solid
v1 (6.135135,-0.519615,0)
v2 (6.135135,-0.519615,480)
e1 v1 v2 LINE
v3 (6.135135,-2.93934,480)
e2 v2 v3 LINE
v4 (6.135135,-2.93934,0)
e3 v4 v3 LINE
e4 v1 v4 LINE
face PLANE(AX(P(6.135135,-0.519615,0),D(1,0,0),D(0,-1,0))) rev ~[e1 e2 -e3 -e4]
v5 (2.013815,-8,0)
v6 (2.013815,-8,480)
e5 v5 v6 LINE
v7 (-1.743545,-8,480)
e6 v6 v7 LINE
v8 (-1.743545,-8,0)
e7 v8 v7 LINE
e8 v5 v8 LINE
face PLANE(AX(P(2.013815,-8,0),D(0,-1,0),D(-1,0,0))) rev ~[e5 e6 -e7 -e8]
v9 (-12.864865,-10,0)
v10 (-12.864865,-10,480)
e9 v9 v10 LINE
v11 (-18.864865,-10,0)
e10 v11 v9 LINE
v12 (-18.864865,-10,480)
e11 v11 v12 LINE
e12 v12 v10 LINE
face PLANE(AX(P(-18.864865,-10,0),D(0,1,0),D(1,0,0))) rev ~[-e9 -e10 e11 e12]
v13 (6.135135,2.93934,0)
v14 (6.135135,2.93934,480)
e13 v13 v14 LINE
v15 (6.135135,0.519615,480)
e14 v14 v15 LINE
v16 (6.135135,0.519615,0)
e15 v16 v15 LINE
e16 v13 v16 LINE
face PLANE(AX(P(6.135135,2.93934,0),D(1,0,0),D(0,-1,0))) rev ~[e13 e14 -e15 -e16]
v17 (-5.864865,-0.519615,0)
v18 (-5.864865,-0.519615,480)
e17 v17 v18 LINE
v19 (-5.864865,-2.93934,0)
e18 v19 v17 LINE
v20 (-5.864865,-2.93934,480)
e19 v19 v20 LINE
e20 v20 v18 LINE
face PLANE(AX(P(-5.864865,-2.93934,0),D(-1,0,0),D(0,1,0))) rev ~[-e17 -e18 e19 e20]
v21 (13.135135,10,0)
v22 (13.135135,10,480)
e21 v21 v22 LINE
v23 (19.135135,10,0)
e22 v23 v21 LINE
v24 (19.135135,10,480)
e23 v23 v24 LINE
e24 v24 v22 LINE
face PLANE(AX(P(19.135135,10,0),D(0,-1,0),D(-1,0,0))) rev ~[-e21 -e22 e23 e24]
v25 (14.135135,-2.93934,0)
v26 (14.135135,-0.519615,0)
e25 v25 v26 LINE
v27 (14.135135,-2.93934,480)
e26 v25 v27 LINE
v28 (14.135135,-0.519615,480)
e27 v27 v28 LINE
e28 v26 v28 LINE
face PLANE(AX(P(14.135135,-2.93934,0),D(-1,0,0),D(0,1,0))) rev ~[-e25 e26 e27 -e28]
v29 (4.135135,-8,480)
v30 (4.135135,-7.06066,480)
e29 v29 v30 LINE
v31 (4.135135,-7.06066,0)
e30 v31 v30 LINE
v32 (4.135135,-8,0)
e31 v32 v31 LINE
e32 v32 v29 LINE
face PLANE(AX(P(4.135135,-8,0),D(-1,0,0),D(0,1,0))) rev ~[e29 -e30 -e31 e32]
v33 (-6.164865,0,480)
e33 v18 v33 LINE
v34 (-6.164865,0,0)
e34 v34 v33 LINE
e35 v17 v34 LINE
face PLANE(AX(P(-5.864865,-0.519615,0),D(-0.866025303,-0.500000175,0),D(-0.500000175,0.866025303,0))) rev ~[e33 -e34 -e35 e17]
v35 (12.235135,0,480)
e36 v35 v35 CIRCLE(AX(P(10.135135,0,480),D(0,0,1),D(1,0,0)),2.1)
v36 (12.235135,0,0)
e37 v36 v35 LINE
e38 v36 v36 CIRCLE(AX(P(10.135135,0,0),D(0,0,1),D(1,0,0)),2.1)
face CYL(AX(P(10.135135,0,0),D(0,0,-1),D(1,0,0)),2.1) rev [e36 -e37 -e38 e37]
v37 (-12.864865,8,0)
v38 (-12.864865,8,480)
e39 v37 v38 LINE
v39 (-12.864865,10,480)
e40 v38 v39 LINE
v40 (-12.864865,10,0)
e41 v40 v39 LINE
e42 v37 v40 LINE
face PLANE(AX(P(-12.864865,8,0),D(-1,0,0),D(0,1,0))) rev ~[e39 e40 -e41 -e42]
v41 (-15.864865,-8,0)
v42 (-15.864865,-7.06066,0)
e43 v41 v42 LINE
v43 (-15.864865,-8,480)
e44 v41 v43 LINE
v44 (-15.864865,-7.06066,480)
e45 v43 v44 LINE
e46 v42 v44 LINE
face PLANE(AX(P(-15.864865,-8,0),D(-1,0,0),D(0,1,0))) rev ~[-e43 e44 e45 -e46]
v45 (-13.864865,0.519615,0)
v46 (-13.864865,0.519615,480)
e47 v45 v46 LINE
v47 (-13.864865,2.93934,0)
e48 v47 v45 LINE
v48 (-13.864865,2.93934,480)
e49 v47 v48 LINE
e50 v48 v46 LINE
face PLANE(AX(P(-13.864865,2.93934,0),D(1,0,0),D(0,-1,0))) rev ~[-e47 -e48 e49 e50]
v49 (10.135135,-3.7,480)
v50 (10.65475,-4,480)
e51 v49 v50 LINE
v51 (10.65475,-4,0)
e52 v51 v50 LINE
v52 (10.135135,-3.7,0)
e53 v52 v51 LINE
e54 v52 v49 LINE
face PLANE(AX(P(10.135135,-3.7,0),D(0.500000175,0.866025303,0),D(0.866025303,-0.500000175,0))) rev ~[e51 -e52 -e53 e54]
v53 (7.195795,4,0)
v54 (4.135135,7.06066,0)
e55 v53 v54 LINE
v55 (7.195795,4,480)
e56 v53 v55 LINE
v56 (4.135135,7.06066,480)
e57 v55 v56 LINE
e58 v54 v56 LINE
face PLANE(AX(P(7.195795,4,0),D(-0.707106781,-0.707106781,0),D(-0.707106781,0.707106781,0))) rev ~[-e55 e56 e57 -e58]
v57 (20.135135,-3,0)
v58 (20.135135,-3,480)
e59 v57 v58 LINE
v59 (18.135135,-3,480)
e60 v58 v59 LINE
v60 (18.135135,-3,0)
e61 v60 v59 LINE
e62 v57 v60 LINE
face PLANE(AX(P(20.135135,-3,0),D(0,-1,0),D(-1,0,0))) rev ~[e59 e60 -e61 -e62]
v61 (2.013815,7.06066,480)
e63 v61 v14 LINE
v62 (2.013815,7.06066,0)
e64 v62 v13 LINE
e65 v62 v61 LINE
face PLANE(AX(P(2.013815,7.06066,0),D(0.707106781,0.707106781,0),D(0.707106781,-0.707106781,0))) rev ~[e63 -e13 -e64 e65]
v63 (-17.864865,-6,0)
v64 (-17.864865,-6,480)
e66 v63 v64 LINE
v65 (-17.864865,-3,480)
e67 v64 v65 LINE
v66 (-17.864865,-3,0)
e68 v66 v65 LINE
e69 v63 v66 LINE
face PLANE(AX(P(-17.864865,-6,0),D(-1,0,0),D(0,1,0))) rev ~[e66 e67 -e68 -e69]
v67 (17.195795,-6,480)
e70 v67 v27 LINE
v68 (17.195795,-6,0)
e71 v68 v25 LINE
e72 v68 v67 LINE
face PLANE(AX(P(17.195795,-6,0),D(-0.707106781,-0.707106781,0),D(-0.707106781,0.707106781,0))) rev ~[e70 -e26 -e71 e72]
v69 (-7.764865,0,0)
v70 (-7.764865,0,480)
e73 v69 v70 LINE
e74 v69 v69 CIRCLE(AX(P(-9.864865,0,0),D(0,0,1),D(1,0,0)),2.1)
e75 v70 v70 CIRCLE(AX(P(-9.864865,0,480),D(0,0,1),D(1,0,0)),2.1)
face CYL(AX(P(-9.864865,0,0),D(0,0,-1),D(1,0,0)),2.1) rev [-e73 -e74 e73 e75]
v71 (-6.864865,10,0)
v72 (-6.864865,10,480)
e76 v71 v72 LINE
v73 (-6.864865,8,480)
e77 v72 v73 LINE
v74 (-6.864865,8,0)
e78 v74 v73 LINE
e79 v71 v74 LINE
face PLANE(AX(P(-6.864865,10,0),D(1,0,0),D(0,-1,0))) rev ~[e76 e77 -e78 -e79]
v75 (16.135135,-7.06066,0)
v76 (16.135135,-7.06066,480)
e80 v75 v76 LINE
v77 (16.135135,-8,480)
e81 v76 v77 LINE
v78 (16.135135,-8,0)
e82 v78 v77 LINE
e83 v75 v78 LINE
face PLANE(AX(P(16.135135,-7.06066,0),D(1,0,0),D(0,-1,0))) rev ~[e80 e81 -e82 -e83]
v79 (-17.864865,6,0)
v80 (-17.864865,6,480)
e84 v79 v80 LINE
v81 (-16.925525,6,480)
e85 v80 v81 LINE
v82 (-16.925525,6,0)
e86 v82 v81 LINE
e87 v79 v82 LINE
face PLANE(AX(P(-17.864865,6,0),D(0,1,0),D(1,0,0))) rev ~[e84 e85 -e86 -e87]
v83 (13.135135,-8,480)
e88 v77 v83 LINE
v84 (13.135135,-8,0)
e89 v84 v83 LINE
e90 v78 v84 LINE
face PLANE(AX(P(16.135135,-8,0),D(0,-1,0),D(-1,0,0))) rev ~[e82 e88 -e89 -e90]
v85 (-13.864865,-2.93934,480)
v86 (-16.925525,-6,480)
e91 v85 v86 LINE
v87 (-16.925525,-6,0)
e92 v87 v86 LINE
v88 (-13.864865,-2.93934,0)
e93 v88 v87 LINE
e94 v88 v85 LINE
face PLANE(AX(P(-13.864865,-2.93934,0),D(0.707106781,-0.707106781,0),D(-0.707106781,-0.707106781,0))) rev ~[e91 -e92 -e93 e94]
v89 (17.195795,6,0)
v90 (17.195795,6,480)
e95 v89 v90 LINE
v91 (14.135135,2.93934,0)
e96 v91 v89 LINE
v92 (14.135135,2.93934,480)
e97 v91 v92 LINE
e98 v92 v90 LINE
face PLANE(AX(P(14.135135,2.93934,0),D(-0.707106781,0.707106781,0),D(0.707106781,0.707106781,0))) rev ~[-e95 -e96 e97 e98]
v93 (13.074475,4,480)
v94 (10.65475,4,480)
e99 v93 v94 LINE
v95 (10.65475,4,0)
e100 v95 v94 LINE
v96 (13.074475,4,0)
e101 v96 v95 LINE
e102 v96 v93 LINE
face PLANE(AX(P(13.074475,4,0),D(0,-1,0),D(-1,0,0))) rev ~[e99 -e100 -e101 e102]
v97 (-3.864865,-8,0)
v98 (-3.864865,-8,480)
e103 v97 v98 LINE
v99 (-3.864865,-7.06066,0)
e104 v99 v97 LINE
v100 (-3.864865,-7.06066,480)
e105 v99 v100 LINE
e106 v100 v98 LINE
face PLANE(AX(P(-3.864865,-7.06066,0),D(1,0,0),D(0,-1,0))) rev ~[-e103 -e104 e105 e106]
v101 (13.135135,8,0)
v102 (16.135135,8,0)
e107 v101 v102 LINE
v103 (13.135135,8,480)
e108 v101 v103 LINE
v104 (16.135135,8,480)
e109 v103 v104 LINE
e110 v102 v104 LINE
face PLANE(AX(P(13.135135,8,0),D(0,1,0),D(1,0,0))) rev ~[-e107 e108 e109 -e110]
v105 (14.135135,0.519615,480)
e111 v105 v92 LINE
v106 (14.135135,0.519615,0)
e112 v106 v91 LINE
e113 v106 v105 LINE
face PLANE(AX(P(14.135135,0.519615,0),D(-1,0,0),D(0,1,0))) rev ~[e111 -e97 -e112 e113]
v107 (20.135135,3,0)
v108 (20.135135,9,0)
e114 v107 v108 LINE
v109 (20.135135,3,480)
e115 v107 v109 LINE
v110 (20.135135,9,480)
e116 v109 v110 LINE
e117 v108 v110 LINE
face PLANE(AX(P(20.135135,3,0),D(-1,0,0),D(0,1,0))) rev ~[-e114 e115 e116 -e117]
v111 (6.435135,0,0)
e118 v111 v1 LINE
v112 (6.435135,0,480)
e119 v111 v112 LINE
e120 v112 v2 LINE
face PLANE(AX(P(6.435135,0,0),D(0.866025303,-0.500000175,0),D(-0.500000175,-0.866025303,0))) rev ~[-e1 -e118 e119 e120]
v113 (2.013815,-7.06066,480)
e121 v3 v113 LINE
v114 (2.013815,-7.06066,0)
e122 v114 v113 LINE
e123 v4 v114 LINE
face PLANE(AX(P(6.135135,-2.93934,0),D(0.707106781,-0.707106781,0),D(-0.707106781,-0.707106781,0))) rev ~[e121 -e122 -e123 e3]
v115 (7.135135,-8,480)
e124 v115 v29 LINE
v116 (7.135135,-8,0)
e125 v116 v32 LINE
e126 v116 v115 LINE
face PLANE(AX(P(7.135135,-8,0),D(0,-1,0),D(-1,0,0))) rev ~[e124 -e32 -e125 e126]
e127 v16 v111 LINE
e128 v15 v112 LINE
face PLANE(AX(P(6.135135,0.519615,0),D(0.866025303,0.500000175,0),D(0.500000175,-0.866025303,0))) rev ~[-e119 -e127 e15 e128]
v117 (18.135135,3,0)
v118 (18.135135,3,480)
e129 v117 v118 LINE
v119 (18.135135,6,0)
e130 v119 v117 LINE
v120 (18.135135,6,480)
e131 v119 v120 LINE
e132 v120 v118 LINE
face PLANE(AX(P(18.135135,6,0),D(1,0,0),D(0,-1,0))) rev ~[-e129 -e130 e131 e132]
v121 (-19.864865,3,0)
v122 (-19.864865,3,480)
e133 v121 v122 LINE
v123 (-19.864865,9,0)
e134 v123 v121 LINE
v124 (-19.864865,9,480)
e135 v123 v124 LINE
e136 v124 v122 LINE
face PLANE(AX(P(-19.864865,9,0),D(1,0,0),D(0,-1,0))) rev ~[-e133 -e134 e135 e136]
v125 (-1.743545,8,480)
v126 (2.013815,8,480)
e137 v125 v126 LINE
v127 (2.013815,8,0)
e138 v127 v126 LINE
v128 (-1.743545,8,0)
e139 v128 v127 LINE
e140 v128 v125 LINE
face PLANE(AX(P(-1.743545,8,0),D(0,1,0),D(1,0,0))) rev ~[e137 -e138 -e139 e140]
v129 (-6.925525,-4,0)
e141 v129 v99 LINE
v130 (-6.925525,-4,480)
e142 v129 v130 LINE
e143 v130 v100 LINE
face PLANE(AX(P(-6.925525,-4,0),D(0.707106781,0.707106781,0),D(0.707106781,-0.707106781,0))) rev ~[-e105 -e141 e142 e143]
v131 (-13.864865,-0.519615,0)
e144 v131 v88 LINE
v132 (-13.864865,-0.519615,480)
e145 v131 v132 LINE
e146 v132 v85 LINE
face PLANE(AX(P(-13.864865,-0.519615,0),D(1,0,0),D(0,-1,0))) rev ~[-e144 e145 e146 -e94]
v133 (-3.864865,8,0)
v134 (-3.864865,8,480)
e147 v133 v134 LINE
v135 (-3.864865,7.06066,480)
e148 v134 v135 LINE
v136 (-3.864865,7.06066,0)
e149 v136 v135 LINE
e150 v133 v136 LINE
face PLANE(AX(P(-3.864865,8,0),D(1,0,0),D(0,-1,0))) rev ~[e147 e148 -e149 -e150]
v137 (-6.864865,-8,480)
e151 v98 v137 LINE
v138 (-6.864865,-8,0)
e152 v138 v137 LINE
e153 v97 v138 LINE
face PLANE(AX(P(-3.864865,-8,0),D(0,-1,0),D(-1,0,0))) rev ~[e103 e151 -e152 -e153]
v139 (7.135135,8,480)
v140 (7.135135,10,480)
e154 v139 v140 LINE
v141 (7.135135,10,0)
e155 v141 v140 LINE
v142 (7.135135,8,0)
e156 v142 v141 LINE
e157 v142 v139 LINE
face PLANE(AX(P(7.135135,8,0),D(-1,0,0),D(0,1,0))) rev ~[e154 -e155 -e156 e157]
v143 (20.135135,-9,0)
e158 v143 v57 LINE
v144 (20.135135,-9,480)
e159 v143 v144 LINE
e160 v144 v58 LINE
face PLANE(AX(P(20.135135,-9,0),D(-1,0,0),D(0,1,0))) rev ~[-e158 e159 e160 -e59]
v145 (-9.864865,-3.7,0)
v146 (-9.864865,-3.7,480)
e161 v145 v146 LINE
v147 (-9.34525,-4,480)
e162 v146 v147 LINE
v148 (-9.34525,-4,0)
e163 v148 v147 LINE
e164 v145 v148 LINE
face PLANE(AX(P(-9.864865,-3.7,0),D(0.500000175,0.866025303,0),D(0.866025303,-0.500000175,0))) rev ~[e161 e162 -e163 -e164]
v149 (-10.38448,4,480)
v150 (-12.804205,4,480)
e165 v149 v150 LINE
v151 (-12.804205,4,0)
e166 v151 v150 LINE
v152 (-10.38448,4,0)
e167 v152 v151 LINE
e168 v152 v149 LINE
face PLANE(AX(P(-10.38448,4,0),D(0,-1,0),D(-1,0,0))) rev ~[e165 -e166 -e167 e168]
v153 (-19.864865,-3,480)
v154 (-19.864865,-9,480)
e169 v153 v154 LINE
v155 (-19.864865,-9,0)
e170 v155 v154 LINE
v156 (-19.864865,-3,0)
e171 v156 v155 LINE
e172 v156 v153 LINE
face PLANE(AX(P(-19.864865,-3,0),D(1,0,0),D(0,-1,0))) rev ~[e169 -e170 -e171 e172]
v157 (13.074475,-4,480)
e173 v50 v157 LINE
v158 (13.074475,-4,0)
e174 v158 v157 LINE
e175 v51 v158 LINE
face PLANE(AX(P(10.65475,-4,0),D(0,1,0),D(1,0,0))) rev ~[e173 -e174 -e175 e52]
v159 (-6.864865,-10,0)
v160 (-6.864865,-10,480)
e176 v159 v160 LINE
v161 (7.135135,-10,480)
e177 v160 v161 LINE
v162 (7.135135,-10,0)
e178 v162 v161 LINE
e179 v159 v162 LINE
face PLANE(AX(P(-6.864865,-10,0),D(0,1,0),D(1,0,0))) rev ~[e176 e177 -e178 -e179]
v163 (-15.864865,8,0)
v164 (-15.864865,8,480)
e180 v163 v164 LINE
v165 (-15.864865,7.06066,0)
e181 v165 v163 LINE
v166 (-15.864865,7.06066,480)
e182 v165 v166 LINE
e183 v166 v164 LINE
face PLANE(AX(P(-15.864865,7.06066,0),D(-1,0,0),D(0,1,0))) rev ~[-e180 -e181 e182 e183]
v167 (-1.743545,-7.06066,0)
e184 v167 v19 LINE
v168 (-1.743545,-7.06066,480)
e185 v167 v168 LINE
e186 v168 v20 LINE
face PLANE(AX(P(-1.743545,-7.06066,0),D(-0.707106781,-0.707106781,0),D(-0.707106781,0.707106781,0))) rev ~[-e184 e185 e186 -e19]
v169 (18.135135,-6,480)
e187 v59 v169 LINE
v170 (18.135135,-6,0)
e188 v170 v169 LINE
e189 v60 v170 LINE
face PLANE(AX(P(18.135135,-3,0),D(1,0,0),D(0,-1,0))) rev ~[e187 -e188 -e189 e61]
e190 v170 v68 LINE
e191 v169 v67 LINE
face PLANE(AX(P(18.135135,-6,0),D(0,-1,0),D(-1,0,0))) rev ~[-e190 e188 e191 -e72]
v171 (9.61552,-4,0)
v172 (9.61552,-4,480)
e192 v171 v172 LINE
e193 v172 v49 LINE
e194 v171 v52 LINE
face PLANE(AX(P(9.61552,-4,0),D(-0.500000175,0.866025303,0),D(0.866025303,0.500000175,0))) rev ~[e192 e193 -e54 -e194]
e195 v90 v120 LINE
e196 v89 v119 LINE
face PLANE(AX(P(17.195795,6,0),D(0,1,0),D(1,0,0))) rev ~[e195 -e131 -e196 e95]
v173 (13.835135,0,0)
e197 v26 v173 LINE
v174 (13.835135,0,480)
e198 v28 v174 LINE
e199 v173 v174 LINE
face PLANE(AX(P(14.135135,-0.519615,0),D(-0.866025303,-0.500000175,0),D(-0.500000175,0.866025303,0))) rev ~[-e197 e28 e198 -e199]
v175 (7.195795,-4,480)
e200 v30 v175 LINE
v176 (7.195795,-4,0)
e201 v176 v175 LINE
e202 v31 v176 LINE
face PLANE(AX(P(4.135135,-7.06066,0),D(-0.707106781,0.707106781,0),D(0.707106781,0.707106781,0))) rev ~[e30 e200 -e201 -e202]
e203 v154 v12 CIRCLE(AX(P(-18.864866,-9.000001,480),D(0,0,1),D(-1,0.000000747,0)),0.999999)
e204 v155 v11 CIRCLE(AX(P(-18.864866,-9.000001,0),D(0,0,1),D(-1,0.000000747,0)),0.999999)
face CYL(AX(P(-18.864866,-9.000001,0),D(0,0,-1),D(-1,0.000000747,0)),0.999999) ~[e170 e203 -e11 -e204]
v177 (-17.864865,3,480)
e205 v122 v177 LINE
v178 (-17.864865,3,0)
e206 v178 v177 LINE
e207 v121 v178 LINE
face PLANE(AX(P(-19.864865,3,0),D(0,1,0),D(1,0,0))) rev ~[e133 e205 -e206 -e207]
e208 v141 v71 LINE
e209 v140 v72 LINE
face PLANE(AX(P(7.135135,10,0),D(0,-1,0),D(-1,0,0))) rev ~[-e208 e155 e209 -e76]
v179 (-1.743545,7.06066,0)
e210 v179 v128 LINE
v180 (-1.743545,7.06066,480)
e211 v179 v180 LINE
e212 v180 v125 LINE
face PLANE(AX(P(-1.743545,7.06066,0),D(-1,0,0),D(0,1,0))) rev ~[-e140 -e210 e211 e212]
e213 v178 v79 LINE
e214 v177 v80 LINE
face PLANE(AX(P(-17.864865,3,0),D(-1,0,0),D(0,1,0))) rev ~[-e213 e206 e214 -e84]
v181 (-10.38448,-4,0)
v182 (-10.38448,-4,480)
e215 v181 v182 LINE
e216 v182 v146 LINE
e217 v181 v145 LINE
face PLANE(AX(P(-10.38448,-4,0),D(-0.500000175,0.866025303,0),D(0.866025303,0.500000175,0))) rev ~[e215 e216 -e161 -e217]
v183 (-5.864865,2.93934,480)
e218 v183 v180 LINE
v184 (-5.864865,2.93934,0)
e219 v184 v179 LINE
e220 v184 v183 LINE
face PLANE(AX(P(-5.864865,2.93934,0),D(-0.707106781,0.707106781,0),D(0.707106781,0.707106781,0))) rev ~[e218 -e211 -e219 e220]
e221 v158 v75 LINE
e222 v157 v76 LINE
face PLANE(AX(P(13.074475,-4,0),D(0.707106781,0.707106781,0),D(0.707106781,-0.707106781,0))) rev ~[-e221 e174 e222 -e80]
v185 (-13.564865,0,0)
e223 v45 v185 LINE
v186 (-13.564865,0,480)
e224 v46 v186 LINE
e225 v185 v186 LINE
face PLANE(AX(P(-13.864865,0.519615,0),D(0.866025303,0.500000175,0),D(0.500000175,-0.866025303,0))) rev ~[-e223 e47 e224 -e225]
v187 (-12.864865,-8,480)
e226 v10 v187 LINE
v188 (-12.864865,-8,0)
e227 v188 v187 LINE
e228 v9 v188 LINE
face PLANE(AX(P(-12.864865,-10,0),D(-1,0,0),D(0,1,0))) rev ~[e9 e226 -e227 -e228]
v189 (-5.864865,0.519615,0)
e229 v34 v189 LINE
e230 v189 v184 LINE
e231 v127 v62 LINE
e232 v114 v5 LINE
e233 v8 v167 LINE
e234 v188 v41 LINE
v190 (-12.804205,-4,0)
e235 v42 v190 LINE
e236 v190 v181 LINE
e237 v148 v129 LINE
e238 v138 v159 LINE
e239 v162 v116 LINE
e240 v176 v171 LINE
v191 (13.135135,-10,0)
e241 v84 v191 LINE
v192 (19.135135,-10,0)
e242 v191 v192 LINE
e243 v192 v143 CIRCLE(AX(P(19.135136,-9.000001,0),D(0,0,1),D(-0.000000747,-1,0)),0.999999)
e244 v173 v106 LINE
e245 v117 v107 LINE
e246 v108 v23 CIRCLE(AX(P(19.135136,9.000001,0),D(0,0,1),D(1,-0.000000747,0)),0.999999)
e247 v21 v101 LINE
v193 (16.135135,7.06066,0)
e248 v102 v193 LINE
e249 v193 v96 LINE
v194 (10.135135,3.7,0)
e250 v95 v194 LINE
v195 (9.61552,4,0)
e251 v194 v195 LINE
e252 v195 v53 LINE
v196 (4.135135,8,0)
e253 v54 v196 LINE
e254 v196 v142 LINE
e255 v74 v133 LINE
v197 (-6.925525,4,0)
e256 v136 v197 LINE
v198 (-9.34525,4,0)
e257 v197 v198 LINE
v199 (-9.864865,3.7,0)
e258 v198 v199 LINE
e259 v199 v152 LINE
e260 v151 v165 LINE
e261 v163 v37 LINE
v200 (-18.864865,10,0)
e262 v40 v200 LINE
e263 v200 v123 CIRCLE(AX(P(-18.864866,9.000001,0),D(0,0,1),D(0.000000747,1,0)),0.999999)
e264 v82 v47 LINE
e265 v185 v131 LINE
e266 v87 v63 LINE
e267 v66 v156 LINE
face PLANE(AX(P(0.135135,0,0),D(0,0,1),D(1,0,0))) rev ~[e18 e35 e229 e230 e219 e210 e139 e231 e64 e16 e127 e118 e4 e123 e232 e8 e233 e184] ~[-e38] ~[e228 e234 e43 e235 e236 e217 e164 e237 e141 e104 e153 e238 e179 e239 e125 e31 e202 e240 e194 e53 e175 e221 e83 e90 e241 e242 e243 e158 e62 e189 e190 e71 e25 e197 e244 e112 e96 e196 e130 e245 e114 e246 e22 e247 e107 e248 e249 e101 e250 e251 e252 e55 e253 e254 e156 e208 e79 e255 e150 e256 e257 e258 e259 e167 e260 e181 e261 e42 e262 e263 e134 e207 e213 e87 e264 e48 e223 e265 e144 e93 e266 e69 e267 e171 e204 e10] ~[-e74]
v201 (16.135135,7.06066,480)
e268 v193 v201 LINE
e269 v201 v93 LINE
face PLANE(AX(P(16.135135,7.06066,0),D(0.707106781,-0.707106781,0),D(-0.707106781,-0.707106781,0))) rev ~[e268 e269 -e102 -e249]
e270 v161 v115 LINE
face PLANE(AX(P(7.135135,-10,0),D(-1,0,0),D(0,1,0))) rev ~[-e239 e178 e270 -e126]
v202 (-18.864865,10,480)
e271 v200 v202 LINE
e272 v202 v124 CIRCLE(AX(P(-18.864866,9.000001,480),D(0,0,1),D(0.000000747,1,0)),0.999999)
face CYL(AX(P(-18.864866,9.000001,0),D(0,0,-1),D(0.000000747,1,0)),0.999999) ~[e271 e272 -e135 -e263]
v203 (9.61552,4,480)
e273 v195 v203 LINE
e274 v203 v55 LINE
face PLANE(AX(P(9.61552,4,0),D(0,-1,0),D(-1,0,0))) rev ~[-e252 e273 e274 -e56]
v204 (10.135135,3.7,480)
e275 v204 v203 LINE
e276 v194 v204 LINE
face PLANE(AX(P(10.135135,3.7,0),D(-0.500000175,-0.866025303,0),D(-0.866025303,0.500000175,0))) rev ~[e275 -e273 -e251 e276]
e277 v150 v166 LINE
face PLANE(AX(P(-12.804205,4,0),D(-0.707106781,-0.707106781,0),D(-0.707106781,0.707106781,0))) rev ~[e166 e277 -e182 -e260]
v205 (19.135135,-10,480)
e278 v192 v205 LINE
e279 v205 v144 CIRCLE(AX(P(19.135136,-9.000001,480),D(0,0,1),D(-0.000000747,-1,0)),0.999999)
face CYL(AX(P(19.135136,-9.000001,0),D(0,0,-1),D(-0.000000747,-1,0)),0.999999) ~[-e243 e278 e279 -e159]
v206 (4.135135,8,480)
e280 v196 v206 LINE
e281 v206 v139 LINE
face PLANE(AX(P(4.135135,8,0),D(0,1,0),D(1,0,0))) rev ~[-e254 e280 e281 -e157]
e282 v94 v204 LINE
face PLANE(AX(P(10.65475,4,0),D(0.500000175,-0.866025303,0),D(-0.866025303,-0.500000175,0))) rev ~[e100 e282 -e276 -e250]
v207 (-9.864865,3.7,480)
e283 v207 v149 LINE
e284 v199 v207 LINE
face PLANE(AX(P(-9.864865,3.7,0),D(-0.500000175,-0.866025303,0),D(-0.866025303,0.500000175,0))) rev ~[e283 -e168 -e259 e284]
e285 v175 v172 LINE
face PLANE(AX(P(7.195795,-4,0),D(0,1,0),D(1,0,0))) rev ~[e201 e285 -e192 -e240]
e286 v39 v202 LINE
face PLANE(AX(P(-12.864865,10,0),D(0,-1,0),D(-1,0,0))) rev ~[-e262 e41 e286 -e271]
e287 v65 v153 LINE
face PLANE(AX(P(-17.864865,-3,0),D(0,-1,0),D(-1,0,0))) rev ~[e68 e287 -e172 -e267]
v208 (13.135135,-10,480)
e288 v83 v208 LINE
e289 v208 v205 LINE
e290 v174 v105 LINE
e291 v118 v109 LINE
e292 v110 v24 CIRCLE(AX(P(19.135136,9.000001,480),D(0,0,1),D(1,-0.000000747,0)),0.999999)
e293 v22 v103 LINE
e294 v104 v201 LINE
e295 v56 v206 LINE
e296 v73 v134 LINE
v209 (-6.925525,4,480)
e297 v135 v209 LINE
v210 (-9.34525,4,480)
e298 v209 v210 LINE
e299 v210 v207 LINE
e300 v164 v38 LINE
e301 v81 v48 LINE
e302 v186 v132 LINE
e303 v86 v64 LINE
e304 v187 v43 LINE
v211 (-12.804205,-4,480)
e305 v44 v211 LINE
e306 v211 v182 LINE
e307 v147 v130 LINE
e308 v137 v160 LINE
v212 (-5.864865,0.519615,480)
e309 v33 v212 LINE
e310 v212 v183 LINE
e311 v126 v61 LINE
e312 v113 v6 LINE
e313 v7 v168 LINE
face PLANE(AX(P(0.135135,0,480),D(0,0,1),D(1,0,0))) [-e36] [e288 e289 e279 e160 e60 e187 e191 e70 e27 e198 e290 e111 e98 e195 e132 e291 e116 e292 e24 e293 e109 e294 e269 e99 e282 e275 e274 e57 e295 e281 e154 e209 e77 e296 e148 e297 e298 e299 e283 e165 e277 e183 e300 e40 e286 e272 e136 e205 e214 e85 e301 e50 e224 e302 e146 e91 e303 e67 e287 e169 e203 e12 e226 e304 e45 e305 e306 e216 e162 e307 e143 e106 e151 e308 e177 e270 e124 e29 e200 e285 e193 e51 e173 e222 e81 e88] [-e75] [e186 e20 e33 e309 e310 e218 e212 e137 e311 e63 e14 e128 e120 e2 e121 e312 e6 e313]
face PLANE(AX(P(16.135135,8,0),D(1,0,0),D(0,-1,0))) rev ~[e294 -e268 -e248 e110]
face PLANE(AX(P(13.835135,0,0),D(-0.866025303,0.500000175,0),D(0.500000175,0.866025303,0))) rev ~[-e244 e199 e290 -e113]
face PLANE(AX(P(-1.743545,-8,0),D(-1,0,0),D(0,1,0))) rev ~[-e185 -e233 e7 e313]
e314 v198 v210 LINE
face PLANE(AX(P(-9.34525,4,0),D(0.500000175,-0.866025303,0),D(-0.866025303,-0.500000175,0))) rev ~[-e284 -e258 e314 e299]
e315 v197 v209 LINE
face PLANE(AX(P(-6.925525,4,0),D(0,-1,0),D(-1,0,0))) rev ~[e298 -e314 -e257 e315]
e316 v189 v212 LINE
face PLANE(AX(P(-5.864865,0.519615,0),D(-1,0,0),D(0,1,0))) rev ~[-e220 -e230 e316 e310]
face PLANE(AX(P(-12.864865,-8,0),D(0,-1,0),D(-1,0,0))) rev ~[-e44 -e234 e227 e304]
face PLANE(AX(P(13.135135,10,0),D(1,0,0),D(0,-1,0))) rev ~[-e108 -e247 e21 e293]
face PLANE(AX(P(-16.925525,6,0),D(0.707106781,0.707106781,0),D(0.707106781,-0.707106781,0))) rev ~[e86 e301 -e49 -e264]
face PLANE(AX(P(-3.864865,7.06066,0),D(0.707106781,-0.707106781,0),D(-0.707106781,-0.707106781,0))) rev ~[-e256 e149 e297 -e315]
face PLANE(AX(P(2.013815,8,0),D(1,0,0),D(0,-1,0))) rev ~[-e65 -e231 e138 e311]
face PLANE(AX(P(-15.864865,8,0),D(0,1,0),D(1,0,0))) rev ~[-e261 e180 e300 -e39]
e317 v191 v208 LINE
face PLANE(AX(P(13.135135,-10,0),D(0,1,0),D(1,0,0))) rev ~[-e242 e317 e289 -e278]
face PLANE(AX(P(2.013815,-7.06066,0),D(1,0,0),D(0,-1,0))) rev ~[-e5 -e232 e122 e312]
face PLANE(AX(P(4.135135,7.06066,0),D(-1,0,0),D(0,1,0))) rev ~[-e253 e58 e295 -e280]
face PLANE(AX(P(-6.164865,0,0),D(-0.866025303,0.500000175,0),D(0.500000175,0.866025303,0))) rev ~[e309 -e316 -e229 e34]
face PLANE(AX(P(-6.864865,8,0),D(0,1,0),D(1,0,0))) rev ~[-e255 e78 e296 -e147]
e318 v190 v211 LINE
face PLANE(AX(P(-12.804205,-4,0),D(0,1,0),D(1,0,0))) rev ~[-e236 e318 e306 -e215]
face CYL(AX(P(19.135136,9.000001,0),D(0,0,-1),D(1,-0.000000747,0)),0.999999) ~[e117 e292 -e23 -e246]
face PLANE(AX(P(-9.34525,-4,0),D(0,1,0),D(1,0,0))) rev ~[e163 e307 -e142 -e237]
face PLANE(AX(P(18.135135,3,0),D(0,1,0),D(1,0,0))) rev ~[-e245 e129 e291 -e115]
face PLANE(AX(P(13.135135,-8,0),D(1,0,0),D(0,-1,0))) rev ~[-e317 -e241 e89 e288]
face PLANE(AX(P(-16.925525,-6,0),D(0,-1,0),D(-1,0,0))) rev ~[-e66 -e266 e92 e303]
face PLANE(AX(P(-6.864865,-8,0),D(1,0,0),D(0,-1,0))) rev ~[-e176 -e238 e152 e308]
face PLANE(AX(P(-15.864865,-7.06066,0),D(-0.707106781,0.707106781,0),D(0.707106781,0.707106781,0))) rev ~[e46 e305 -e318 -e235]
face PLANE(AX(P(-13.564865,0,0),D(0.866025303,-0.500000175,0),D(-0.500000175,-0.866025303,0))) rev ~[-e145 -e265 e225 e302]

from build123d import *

# Parameters (mm, degrees)
F0_R     = 2.1
F1_DEPTH = 480


with BuildPart() as f1:
    # F0 (on Top) → F1 (new body)
    with BuildSketch(Plane.XY):
        with BuildLine():
            Line((14.135135, -0.519615), (13.835135, 0))
            Line((13.835135, 0), (14.135135, 0.519615))
            Line((14.135135, 0.519615), (14.135135, 2.93934))
            Line((14.135135, 2.93934), (17.195795, 6))
            Line((17.195795, 6), (18.135135, 6))
            Line((18.135135, 6), (18.135135, 3))
            Line((18.135135, 3), (20.135135, 3))
            Line((20.135135, 3), (20.135135, 9))
            ThreePointArc((20.135135, 9), (19.842242, 9.707107), (19.135135, 10))
            Line((19.135135, 10), (13.135135, 10))
            Line((13.135135, 10), (13.135135, 8))
            Line((13.135135, 8), (16.135135, 8))
            Line((16.135135, 8), (16.135135, 7.06066))
            Line((16.135135, 7.06066), (13.074475, 4))
            Line((13.074475, 4), (10.65475, 4))
            Line((10.65475, 4), (10.135135, 3.7))
            Line((10.135135, 3.7), (9.61552, 4))
            Line((9.61552, 4), (7.195795, 4))
            Line((7.195795, 4), (4.135135, 7.06066))
            Line((4.135135, 7.06066), (4.135135, 8))
            Line((4.135135, 8), (7.135135, 8))
            Line((7.135135, 8), (7.135135, 10))
            Line((7.135135, 10), (-6.864865, 10))
            Line((-6.864865, 10), (-6.864865, 8))
            Line((-6.864865, 8), (-3.864865, 8))
            Line((-3.864865, 8), (-3.864865, 7.06066))
            Line((-3.864865, 7.06066), (-6.925525, 4))
            Line((-6.925525, 4), (-9.34525, 4))
            Line((-9.34525, 4), (-9.864865, 3.7))
            Line((-9.864865, 3.7), (-10.38448, 4))
            Line((-10.38448, 4), (-12.804205, 4))
            Line((-12.804205, 4), (-15.864865, 7.06066))
            Line((-15.864865, 7.06066), (-15.864865, 8))
            Line((-15.864865, 8), (-12.864865, 8))
            Line((-12.864865, 8), (-12.864865, 10))
            Line((-12.864865, 10), (-18.864865, 10))
            ThreePointArc((-18.864865, 10), (-19.571972, 9.707107), (-19.864865, 9))
            Line((-19.864865, 9), (-19.864865, 3))
            Line((-19.864865, 3), (-17.864865, 3))
            Line((-17.864865, 3), (-17.864865, 6))
            Line((-17.864865, 6), (-16.925525, 6))
            Line((-16.925525, 6), (-13.864865, 2.93934))
            Line((-13.864865, 2.93934), (-13.864865, 0.519615))
            Line((-13.864865, 0.519615), (-13.564865, 0))
            Line((-13.564865, 0), (-13.864865, -0.519615))
            Line((-13.864865, -0.519615), (-13.864865, -2.93934))
            Line((-13.864865, -2.93934), (-16.925525, -6))
            Line((-16.925525, -6), (-17.864865, -6))
            Line((-17.864865, -6), (-17.864865, -3))
            Line((-17.864865, -3), (-19.864865, -3))
            Line((-19.864865, -3), (-19.864865, -9))
            ThreePointArc((-19.864865, -9), (-19.571972, -9.707107), (-18.864865, -10))
            Line((-18.864865, -10), (-12.864865, -10))
            Line((-12.864865, -10), (-12.864865, -8))
            Line((-12.864865, -8), (-15.864865, -8))
            Line((-15.864865, -8), (-15.864865, -7.06066))
            Line((-15.864865, -7.06066), (-12.804205, -4))
            Line((-12.804205, -4), (-10.38448, -4))
            Line((-10.38448, -4), (-9.864865, -3.7))
            Line((-9.864865, -3.7), (-9.34525, -4))
            Line((-9.34525, -4), (-6.925525, -4))
            Line((-6.925525, -4), (-3.864865, -7.06066))
            Line((-3.864865, -7.06066), (-3.864865, -8))
            Line((-3.864865, -8), (-6.864865, -8))
            Line((-6.864865, -8), (-6.864865, -10))
            Line((-6.864865, -10), (7.135135, -10))
            Line((7.135135, -10), (7.135135, -8))
            Line((7.135135, -8), (4.135135, -8))
            Line((4.135135, -8), (4.135135, -7.06066))
            Line((4.135135, -7.06066), (7.195795, -4))
            Line((7.195795, -4), (9.61552, -4))
            Line((9.61552, -4), (10.135135, -3.7))
            Line((10.135135, -3.7), (10.65475, -4))
            Line((10.65475, -4), (13.074475, -4))
            Line((13.074475, -4), (16.135135, -7.06066))
            Line((16.135135, -7.06066), (16.135135, -8))
            Line((16.135135, -8), (13.135135, -8))
            Line((13.135135, -8), (13.135135, -10))
            Line((13.135135, -10), (19.135135, -10))
            ThreePointArc((19.135135, -10), (19.842242, -9.707107), (20.135135, -9))
            Line((20.135135, -9), (20.135135, -3))
            Line((20.135135, -3), (18.135135, -3))
            Line((18.135135, -3), (18.135135, -6))
            Line((18.135135, -6), (17.195795, -6))
            Line((17.195795, -6), (14.135135, -2.93934))
            Line((14.135135, -2.93934), (14.135135, -0.519615))
        make_face()
        with Locations((-9.864865, 0)):
            Circle(F0_R, mode=Mode.SUBTRACT)
        Polygon((6.435135, 0), (6.135135, -0.519615), (6.135135, -2.93934), (3.074475, -6), (2.013815, -7.06066), (2.013815, -8), (-1.743545, -8), (-1.743545, -7.06066), (-2.804205, -6), (-5.864865, -2.93934), (-5.864865, -0.519615), (-6.164865, 0), (-5.864865, 0.519615), (-5.864865, 2.93934), (-2.804205, 6), (-1.743545, 7.06066), (-1.743545, 8), (2.013815, 8), (2.013815, 7.06066), (3.074475, 6), (6.135135, 2.93934), (6.135135, 0.519615), align=None, mode=Mode.SUBTRACT)
        with Locations((10.135135, 0)):
            Circle(F0_R, mode=Mode.SUBTRACT)
    extrude(amount=F1_DEPTH)


solid = f1.part
